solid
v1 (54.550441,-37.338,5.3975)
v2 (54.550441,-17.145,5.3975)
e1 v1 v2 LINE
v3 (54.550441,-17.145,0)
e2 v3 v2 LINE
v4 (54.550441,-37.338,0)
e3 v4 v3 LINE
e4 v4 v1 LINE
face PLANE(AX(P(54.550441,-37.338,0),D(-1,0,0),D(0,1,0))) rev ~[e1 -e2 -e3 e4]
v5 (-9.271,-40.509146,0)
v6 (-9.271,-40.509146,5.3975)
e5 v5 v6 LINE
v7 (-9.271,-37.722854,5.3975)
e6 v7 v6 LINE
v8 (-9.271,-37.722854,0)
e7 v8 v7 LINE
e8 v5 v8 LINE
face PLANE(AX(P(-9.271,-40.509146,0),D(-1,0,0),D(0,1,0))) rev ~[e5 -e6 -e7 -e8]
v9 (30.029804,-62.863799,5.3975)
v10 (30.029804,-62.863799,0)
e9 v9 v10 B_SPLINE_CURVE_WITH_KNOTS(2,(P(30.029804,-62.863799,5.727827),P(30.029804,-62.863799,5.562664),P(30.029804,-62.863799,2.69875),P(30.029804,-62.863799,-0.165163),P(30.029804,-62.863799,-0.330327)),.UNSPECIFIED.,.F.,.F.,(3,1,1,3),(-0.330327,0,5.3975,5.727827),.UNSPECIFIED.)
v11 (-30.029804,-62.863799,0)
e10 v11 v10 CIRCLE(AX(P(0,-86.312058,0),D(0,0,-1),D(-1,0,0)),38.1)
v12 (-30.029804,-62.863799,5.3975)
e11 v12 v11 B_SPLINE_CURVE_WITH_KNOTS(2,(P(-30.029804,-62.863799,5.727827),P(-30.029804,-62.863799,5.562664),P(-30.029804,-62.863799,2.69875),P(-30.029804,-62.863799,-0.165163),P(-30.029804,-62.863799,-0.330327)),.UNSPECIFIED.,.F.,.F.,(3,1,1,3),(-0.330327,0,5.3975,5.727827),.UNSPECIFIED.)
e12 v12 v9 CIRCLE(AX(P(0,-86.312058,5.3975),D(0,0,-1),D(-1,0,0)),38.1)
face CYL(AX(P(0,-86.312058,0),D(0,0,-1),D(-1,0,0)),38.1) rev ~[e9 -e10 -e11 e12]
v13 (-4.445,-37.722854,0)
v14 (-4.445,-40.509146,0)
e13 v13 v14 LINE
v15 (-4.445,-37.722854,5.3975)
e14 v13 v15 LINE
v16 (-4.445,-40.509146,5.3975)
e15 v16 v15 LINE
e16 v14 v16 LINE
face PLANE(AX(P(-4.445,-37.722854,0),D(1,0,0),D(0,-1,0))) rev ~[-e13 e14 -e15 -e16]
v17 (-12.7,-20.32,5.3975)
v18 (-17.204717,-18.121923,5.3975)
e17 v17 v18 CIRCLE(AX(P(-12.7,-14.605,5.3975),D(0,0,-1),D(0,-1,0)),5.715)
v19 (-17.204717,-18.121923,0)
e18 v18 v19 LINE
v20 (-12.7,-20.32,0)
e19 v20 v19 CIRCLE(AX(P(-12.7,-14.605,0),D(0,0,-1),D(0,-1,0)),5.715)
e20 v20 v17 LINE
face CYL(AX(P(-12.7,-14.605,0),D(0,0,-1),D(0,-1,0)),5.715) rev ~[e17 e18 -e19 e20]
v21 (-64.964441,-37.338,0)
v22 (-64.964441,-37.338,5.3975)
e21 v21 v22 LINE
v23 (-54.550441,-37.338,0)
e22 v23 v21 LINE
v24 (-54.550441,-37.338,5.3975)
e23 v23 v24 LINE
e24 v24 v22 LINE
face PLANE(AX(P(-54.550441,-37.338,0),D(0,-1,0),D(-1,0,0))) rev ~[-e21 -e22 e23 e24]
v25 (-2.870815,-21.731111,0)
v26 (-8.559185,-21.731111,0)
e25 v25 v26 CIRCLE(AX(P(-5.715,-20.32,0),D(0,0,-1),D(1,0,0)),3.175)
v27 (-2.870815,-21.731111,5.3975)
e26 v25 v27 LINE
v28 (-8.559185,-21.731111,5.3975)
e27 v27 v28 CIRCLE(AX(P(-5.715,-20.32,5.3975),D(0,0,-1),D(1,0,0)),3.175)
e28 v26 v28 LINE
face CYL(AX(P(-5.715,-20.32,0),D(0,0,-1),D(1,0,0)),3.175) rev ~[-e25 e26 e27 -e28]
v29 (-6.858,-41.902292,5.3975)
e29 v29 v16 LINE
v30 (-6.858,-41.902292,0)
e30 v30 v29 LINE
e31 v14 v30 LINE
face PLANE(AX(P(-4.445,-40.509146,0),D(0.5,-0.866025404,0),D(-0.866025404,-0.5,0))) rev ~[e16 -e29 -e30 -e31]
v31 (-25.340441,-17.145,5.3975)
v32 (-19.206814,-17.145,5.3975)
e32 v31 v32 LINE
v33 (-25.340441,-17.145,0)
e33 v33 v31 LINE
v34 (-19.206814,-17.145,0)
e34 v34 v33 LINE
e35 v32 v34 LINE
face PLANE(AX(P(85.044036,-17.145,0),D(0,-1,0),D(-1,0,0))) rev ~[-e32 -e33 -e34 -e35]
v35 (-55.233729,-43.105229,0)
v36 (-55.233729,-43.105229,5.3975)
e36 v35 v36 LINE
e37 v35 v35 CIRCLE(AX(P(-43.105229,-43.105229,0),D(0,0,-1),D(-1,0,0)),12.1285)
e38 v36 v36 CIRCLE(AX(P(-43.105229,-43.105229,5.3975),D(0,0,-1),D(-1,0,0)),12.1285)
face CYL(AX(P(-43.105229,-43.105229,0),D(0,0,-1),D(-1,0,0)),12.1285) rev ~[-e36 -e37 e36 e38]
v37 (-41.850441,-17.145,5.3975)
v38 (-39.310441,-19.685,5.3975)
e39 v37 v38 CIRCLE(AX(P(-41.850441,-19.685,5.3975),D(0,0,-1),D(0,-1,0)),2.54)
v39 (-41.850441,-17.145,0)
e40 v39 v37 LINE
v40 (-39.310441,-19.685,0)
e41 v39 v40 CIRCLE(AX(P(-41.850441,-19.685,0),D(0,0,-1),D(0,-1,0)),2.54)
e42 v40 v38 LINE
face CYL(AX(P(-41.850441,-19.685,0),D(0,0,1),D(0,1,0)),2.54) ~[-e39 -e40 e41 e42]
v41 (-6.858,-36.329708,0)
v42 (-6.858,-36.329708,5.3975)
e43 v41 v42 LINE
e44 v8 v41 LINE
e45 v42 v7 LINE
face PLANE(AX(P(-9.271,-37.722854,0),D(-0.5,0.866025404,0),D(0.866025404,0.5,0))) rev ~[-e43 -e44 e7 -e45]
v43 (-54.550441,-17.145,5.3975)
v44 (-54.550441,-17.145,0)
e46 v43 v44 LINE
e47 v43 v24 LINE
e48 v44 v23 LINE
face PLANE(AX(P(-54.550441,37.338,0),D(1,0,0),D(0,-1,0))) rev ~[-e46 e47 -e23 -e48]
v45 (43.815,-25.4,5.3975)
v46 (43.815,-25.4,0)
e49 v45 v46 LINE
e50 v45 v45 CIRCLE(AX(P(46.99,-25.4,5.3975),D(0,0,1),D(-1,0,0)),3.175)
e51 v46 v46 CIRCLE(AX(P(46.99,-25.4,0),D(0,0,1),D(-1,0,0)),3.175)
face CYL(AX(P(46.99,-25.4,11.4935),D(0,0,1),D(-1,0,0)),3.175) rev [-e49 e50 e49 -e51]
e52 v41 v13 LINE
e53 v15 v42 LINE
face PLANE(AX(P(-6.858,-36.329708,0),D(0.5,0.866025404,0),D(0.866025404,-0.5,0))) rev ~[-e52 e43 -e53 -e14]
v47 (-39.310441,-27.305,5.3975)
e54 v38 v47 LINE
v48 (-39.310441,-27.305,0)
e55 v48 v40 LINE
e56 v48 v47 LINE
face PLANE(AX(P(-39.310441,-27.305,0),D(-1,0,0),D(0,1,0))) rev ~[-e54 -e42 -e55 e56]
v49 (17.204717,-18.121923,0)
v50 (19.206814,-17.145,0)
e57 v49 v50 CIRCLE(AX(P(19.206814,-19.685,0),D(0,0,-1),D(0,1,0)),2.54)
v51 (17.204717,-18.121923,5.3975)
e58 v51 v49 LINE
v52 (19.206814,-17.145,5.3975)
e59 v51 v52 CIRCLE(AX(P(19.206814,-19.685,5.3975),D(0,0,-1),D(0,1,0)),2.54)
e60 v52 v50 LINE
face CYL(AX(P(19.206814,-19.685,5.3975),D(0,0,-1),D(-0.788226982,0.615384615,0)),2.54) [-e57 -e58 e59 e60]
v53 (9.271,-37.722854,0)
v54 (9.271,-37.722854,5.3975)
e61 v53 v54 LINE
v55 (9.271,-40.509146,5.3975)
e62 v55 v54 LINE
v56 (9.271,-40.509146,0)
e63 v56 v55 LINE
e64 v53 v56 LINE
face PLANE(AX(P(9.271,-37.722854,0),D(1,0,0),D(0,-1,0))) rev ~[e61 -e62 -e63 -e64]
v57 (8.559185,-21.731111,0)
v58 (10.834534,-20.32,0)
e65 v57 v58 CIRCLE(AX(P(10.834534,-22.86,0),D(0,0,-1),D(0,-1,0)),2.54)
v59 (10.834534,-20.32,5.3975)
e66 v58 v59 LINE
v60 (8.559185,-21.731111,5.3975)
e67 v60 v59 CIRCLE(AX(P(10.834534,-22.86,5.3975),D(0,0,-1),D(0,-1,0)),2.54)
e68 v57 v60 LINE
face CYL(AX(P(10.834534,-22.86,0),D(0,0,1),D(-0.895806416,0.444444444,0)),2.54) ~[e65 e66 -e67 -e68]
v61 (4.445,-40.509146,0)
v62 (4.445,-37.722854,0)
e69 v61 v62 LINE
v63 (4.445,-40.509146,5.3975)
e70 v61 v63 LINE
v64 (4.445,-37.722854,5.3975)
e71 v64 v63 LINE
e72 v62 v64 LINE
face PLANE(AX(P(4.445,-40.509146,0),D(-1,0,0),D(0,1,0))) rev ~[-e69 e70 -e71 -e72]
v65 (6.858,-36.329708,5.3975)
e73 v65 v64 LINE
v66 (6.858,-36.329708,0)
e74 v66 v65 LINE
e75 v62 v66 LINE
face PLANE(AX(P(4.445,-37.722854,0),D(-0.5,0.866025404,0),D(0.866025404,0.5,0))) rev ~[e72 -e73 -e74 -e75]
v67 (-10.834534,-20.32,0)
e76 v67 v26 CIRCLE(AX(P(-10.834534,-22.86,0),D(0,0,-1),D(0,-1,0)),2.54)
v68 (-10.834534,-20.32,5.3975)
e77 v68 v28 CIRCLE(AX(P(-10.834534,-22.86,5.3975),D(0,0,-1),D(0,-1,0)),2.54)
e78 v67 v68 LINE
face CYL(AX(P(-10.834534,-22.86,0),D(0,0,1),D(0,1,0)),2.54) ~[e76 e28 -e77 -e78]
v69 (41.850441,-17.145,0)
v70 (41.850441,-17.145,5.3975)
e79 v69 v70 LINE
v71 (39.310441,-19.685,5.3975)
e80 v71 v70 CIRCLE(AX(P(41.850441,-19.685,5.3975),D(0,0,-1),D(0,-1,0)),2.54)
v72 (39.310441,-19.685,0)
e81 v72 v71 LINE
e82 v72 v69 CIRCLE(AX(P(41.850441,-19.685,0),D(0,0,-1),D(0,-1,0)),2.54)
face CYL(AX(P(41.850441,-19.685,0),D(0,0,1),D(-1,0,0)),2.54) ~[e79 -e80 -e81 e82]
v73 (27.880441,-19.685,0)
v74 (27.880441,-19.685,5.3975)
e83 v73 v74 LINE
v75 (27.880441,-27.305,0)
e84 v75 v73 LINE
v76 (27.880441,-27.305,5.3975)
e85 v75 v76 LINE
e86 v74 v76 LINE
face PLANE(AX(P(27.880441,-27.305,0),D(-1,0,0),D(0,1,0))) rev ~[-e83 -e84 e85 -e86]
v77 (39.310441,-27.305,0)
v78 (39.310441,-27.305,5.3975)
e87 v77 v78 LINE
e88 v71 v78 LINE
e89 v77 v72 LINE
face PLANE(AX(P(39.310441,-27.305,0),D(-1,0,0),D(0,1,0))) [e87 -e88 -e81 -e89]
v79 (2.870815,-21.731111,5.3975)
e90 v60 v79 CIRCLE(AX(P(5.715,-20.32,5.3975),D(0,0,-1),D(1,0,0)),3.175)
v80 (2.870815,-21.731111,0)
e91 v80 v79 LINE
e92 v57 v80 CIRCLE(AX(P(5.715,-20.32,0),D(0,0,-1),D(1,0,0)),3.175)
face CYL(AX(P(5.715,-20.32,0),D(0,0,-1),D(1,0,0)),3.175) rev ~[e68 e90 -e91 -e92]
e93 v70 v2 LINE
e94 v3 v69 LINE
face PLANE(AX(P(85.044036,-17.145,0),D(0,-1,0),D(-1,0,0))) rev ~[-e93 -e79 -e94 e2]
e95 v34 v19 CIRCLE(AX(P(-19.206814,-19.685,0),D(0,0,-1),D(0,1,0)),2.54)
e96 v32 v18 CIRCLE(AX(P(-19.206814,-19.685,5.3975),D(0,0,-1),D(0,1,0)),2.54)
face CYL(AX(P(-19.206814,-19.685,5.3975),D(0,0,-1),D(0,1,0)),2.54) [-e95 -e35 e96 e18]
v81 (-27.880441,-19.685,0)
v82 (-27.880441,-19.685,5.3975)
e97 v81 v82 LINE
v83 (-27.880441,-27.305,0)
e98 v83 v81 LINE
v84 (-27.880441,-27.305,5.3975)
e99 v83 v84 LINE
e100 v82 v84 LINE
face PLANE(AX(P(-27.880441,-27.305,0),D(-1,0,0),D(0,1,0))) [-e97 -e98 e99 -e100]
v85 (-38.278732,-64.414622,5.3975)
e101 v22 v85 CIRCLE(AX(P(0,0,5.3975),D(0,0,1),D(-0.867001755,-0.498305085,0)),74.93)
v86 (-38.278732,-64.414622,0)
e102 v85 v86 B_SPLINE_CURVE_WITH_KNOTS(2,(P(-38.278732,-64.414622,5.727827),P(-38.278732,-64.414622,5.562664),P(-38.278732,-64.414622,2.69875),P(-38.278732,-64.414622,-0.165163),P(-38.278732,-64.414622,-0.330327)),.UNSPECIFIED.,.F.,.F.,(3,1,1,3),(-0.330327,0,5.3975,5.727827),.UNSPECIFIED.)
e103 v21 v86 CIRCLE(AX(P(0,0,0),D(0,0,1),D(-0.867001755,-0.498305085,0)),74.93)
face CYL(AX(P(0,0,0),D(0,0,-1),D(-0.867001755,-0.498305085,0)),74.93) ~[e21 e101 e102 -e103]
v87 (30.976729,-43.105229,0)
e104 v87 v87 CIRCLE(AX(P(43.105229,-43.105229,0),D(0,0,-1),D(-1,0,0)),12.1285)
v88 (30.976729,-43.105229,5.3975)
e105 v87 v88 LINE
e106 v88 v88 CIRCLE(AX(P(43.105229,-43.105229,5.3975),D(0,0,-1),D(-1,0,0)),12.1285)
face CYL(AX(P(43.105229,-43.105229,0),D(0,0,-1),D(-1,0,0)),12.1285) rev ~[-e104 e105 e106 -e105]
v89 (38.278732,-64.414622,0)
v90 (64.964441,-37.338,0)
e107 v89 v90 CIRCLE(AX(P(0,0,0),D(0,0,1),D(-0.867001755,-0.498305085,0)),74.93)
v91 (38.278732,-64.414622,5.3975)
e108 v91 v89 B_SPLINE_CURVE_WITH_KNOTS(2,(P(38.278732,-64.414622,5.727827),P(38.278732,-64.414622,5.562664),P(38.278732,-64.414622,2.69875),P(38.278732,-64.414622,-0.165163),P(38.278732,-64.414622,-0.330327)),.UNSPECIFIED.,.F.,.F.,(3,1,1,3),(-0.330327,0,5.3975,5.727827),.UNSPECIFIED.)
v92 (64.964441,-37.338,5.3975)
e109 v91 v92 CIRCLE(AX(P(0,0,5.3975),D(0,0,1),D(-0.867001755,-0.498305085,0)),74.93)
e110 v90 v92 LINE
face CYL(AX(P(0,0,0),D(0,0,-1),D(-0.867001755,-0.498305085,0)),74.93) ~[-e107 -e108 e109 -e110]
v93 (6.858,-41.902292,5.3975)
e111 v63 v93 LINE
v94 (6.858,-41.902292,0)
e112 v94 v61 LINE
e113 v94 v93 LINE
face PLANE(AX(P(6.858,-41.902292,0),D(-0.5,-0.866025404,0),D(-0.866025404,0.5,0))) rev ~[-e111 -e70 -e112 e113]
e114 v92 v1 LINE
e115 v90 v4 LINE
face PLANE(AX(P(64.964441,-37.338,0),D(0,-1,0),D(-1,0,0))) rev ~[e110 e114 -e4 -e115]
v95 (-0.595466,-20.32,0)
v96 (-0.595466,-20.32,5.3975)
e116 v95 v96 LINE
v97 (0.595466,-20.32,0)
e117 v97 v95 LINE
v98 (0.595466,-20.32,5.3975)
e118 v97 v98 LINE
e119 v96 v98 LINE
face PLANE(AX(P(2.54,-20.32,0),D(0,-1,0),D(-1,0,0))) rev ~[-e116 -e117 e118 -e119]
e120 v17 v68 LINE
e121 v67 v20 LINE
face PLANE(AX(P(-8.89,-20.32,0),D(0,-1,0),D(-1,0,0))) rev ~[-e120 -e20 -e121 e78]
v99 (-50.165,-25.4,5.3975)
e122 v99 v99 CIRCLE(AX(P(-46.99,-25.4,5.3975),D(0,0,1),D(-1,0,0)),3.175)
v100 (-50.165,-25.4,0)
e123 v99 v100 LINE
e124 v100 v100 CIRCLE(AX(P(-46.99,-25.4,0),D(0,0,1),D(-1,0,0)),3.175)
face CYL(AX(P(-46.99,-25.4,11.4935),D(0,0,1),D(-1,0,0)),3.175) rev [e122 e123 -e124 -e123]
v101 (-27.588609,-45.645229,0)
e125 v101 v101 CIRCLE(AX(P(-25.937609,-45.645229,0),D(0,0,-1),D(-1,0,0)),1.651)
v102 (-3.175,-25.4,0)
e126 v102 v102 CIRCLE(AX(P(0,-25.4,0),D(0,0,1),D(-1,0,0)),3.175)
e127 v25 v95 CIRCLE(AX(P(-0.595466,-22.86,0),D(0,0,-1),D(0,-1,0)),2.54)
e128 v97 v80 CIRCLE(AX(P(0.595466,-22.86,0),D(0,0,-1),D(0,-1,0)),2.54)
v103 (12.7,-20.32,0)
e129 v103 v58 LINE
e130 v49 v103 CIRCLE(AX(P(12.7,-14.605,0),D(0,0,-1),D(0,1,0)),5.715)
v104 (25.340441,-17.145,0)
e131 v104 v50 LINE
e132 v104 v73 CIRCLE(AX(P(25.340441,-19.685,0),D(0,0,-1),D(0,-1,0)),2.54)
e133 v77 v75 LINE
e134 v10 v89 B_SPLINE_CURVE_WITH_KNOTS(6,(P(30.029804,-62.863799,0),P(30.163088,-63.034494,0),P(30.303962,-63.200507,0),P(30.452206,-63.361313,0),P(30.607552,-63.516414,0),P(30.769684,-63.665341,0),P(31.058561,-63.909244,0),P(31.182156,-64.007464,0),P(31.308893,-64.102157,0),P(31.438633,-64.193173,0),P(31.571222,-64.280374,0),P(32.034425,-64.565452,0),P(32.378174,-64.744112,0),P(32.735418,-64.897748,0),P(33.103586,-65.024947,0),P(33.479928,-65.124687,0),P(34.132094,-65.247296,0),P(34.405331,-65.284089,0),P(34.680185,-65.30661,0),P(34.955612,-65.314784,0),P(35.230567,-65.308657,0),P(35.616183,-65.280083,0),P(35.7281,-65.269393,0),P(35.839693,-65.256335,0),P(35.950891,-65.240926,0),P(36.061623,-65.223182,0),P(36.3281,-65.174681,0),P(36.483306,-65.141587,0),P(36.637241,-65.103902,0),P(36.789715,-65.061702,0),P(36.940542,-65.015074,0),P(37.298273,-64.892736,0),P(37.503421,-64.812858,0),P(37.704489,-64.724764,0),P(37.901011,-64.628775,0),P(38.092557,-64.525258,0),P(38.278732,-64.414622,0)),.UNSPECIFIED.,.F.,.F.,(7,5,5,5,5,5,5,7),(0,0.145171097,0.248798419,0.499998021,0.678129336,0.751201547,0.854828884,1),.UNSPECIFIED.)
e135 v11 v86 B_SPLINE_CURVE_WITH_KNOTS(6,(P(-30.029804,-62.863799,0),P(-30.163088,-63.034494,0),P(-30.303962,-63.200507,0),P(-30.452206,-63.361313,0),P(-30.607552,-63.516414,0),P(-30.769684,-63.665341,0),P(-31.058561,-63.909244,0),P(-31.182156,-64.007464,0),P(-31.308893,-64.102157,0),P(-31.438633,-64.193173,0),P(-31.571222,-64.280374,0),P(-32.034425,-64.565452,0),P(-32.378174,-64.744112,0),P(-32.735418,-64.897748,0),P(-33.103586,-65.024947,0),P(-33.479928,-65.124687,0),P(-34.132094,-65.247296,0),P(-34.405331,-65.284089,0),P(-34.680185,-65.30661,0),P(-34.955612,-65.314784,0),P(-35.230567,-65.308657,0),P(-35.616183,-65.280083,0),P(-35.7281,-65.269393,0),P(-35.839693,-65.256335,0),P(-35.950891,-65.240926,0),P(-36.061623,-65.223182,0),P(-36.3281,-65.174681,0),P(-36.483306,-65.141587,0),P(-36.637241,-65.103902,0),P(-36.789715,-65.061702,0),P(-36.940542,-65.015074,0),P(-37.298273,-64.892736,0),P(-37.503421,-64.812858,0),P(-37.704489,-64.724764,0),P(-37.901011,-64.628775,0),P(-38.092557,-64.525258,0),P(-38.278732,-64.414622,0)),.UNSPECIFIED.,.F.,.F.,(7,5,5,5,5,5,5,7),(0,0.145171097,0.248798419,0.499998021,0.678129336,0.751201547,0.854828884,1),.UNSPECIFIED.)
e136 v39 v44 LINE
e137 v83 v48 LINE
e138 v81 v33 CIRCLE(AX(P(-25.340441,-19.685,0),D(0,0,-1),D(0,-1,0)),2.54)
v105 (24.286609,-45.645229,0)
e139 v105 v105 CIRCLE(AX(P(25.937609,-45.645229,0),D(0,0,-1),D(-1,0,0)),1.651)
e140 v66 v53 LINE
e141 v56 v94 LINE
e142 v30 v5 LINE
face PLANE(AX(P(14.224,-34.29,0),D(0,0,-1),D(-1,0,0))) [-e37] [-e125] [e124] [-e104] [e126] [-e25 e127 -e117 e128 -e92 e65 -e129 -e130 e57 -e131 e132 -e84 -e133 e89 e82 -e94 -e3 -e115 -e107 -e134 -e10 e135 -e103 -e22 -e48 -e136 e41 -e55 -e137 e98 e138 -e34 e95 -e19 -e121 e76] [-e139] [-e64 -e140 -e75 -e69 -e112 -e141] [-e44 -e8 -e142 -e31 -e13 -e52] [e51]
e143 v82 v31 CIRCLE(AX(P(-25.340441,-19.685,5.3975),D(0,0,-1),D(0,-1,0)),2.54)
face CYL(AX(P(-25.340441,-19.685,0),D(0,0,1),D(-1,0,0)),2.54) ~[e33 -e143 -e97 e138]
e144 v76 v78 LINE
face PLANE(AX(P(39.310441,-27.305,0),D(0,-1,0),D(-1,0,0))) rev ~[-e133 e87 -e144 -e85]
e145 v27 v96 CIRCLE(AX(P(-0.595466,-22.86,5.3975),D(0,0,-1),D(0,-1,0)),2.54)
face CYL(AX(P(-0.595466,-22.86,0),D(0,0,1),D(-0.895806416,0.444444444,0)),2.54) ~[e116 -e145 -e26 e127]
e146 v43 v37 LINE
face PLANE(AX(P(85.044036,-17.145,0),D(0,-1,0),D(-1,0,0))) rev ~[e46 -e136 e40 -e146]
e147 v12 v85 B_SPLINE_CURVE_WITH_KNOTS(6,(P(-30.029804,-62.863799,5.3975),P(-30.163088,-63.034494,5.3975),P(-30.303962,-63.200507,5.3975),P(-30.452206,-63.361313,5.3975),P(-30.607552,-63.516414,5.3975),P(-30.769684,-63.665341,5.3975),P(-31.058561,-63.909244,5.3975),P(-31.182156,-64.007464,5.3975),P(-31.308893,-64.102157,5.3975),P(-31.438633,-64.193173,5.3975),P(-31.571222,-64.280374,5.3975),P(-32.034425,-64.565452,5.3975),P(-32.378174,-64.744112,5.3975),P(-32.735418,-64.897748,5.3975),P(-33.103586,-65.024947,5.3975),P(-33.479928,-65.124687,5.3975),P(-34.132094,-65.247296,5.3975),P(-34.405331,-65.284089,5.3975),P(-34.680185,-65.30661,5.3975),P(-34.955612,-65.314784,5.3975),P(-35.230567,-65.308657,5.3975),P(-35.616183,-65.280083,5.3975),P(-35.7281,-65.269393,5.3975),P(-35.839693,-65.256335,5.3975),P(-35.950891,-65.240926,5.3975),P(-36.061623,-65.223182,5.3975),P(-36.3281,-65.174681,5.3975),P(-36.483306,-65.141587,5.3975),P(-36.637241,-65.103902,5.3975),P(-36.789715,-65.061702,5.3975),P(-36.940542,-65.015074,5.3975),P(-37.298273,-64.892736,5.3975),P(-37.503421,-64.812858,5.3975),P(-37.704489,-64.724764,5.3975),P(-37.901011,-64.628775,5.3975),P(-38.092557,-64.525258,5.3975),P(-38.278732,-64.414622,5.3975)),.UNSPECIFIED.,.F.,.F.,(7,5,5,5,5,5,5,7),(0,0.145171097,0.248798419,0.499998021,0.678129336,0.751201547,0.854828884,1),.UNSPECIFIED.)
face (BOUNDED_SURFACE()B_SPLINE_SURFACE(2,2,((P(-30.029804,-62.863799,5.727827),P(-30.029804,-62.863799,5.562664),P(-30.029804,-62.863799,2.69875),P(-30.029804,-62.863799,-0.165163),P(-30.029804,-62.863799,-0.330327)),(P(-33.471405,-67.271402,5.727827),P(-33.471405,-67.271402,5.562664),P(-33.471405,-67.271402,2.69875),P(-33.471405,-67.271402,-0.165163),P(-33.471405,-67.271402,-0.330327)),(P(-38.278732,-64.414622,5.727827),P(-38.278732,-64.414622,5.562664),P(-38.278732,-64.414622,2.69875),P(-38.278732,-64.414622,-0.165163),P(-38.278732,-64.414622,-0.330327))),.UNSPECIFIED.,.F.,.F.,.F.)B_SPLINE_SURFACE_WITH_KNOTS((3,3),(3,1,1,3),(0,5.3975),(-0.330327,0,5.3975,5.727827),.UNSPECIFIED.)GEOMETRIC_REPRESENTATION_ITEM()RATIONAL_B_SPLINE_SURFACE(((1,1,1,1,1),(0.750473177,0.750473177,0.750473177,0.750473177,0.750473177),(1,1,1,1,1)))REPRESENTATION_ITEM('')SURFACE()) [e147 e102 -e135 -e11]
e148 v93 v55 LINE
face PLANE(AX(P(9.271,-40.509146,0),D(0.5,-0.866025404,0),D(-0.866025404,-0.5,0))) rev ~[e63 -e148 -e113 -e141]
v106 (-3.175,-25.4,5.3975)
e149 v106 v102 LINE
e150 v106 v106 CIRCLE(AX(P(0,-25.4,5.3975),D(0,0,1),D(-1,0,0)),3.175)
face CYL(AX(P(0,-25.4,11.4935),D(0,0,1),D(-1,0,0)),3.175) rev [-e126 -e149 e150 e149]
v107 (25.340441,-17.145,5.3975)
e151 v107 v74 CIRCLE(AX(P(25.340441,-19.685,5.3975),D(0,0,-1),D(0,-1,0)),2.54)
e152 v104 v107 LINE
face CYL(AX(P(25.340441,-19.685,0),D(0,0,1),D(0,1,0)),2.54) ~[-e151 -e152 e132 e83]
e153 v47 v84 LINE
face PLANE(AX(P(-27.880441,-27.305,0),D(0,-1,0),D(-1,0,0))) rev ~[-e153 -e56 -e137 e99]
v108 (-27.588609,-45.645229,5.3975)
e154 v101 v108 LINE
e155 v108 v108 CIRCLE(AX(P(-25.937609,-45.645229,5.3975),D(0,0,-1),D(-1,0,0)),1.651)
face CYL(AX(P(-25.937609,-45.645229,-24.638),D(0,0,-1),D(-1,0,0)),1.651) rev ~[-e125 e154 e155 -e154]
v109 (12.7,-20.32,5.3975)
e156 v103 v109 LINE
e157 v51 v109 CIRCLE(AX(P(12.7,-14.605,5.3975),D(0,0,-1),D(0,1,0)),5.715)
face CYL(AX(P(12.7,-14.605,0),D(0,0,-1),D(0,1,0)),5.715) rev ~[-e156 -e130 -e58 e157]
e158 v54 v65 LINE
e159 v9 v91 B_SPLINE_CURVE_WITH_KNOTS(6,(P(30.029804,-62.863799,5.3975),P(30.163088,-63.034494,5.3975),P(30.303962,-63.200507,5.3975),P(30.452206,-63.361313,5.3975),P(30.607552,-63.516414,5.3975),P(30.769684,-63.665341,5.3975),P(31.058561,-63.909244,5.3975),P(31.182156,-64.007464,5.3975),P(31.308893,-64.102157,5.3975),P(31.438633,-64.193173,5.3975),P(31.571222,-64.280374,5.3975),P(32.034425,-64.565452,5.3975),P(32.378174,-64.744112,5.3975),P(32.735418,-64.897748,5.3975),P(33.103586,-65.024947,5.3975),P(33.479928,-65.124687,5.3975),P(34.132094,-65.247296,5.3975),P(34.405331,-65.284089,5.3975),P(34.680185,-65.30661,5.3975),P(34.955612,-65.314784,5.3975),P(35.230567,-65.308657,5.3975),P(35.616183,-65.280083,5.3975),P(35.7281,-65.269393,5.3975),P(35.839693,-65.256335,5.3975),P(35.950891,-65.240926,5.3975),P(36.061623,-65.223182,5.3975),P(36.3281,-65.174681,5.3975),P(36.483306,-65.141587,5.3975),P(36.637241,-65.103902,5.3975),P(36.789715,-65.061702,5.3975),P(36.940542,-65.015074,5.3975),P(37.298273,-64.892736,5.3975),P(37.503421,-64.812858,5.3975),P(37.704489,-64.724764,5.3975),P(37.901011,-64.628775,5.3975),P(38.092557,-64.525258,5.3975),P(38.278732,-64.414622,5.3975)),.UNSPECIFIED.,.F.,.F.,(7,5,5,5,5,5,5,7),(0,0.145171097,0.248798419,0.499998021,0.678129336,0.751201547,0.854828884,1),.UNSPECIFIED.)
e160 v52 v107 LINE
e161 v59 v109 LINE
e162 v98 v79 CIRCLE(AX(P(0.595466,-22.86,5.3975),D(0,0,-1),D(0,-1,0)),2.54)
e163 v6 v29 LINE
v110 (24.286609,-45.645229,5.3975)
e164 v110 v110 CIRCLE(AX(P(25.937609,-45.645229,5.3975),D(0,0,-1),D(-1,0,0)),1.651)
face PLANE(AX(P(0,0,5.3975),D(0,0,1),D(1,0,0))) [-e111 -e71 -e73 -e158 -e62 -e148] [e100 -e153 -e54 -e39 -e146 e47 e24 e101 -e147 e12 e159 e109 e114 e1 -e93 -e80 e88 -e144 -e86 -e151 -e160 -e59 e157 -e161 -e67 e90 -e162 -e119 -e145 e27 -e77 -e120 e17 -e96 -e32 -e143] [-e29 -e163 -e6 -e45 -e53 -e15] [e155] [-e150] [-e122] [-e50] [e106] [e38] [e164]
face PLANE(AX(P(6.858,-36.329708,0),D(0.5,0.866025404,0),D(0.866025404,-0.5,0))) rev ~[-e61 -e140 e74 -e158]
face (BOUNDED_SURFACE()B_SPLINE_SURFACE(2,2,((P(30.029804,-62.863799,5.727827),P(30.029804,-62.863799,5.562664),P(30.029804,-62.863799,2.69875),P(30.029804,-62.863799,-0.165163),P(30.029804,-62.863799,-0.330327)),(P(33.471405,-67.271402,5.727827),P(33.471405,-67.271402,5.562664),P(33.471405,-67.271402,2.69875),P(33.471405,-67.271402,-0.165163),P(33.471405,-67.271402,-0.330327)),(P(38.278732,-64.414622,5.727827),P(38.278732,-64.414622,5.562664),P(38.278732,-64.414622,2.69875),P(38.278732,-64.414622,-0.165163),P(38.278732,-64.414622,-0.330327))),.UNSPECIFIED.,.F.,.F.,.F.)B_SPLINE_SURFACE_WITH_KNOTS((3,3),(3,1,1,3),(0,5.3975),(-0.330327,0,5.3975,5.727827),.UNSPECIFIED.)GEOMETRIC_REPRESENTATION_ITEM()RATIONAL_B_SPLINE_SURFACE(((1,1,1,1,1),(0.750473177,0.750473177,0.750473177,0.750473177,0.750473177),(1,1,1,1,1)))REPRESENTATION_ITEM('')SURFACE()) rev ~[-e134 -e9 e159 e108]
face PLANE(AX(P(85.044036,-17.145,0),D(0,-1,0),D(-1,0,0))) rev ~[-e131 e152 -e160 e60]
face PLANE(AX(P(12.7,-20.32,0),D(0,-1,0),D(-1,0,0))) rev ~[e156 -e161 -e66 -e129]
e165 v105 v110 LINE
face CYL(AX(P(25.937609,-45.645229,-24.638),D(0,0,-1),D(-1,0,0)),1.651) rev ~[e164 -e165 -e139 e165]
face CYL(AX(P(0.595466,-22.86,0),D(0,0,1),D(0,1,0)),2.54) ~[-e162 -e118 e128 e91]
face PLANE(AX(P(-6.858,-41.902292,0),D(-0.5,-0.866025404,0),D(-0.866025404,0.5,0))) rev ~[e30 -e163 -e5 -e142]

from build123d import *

# Parameters (mm, degrees)
SKETCH1_R                 = 1.651
BOSS_EXTRUDE2_DEPTH       = 5.3975
SKETCH2_R                 = 1.143
CUT_EXTRUDE1_DEPTH        = 6.3975
SKETCH3_R                 = 12.1285
CUT_EXTRUDE2_DEPTH        = 6.3975
SKETCH4_W                 = 28.562713242
SKETCH4_H                 = 11.677503754
BOSS_EXTRUDE3_DEPTH       = 5.3975
SKETCH5_W                 = 216.7214489
SKETCH5_H                 = 130.569220634
CUT_EXTRUDE4_DEPTH        = 6.3975
SKETCH6_R                 = 38.1
CUT_EXTRUDE5_DEPTH        = 60.96
FILLET1_R                 = 6.35
FILLET2_R                 = 6.35
SKETCH102_W               = 11.43
SKETCH102_H               = 10.16
CUT_EXTRUDE101_DEPTH      = 6.3975001
SKETCH158_R               = 1.651
CUT_EXTRUDE157_DEPTH      = 97.79
SKETCH212_R               = 3.175
CUT_EXTRUDE211_DEPTH      = 103.378
CUT_EXTRUDE211_DEPTH_BACK = 48.768
CUT_EXTRUDE104_DEPTH      = 10
FILLET3_R                 = 2.54
SKETCH225_R               = 12.1285
BOSS_EXTRUDE4_DEPTH       = 5.3975
CUT_EXTRUDE224_DEPTH      = 6.3975001


with BuildPart() as part:
    # Sketch1 → Boss-Extrude2 (new body)
    with BuildSketch(Plane.XY):
        with BuildLine():
            Line((-64.964441474, 37.338), (-54.550441474, 37.338))
            Line((-54.550441474, 37.338), (-54.550441474, -37.338))
            Line((-54.550441474, -37.338), (-64.964441474, -37.338))
            ThreePointArc((-64.964441474, -37.338), (0, -74.93), (64.964441474, -37.338))
            Line((64.964441474, -37.338), (54.550441474, -37.338))
            Line((54.550441474, -37.338), (54.550441474, 37.338))
            Line((54.550441474, 37.338), (64.964441474, 37.338))
            ThreePointArc((64.964441474, 37.338), (0, 74.93), (-64.964441474, 37.338))
        make_face()
        with Locations((-46.482, 11.049)):
            Circle(SKETCH1_R, mode=Mode.SUBTRACT)
        with Locations((-21.083270032, 10.795)):
            Circle(SKETCH1_R, mode=Mode.SUBTRACT)
        with Locations((-21.083270032, -10.795)):
            Circle(SKETCH1_R, mode=Mode.SUBTRACT)
        with Locations((-46.482, -11.049)):
            Circle(SKETCH1_R, mode=Mode.SUBTRACT)
        with Locations((46.482, -11.049)):
            Circle(SKETCH1_R, mode=Mode.SUBTRACT)
        with Locations((21.083270032, -10.795)):
            Circle(SKETCH1_R, mode=Mode.SUBTRACT)
        with Locations((21.083270032, 10.795)):
            Circle(SKETCH1_R, mode=Mode.SUBTRACT)
        with Locations((46.482, 11.049)):
            Circle(SKETCH1_R, mode=Mode.SUBTRACT)
    extrude(amount=BOSS_EXTRUDE2_DEPTH)

    # Sketch2 → Cut-Extrude1 (cut, through all)
    with BuildSketch(Plane.XY.offset(5.3975)):
        with Locations((-6.731, 62.23)):
            Circle(SKETCH2_R)
        with Locations((6.731, 62.23)):
            Circle(SKETCH2_R)
    extrude(amount=-CUT_EXTRUDE1_DEPTH, mode=Mode.SUBTRACT)

    # Sketch3 → Cut-Extrude2 (cut, through all)
    with BuildSketch(Plane(origin=(0, 0, 0), x_dir=(-1, 0, 0), z_dir=(0, 0, -1))):
        with Locations((-43.105229381, -43.105229381)):
            Circle(SKETCH3_R)
        with Locations((14.224, -34.29)):
            Circle(SKETCH3_R)
        with Locations((14.224, 34.29)):
            Circle(SKETCH3_R)
        with Locations((-43.105229381, 43.105229381)):
            Circle(SKETCH3_R)
        with Locations((43.105229381, 43.105229381)):
            Circle(SKETCH3_R)
        with Locations((-14.224, 34.29)):
            Circle(SKETCH3_R)
        with Locations((-14.224, -34.29)):
            Circle(SKETCH3_R)
        with Locations((43.105229381, -43.105229381)):
            Circle(SKETCH3_R)
    extrude(amount=-CUT_EXTRUDE2_DEPTH, mode=Mode.SUBTRACT)

    # Sketch4 → Boss-Extrude3 (add)
    with BuildSketch(Plane(origin=(0, 0, 0), x_dir=(-1, 0, 0), z_dir=(0, 0, -1))):
        with Locations((-1.488809975, 62.152540216)):
            Rectangle(SKETCH4_W, SKETCH4_H)
    extrude(amount=-BOSS_EXTRUDE3_DEPTH)

    # Sketch5 → Cut-Extrude4 (cut, through all)
    with BuildSketch(Plane(origin=(0, 0, 0), x_dir=(-1, 0, 0), z_dir=(0, 0, -1))):
        with Locations((23.316688373, 48.139610317)):
            Rectangle(SKETCH5_W, SKETCH5_H)
    extrude(amount=-CUT_EXTRUDE4_DEPTH, mode=Mode.SUBTRACT)

    # Sketch6 → Cut-Extrude5 (cut)
    with BuildSketch(Plane(origin=(0, 0, 0), x_dir=(-1, 0, 0), z_dir=(0, 0, -1))):
        with Locations((0, -86.312058398)):
            Circle(SKETCH6_R)
    extrude(amount=-CUT_EXTRUDE5_DEPTH, mode=Mode.SUBTRACT)

    # Fillet1
    fillet1_edges = [part.edges().sort_by_distance(p)[0] for p in [
        (-33.000960548, -67.271401821, 2.69875),
    ]]
    fillet(fillet1_edges, radius=FILLET1_R)

    # Fillet2
    fillet2_edges = [part.edges().sort_by_distance(p)[0] for p in [
        (33.000960548, -67.271401821, 2.69875),
    ]]
    fillet(fillet2_edges, radius=FILLET2_R)

    # Sketch102 → Cut-Extrude101 (cut, through all)
    with BuildSketch(Plane(origin=(0, 0, 0), x_dir=(-1, 0, 0), z_dir=(0, 0, -1))):
        with Locations((-33.595441474, -22.225)):
            Rectangle(SKETCH102_W, SKETCH102_H)
        with Locations((33.595441474, -22.225)):
            Rectangle(SKETCH102_W, SKETCH102_H)
    extrude(amount=-CUT_EXTRUDE101_DEPTH, mode=Mode.SUBTRACT)

    # Sketch158 → Cut-Extrude157 (cut)
    with BuildSketch(Plane(origin=(30.092005081, 4.08352975, -24.638), x_dir=(-1, 0, 0), z_dir=(0, 0, -1))):
        with Locations((4.154396091, -49.728759131)):
            Circle(SKETCH158_R)
        with Locations((56.02961407, -49.728759131)):
            Circle(SKETCH158_R)
    extrude(amount=-CUT_EXTRUDE157_DEPTH, mode=Mode.SUBTRACT)

    # Sketch212 → Cut-Extrude211 (cut, two sides)
    with BuildSketch(Plane(origin=(30.092005081, 4.08352975, 11.4935), x_dir=(-1, 0, 0), z_dir=(0, 0, -1))) as cut_extrude211_sk:
        with Locations((77.082005081, -29.48352975)):
            Circle(SKETCH212_R)
        with Locations((30.092005081, -29.48352975)):
            Circle(SKETCH212_R)
        with Locations((-16.897994919, -29.48352975)):
            Circle(SKETCH212_R)
    extrude(amount=CUT_EXTRUDE211_DEPTH, mode=Mode.SUBTRACT)
    extrude(cut_extrude211_sk.sketch, amount=-CUT_EXTRUDE211_DEPTH_BACK, mode=Mode.SUBTRACT)

    # Sketch105 → Cut-Extrude104 (cut)
    with BuildSketch(Plane(origin=(0, 0, 0), x_dir=(-1, 0, 0), z_dir=(0, 0, -1))):
        with BuildLine():
            Line((-12.7, -20.32), (-8.89, -20.32))
            ThreePointArc((-8.89, -20.32), (-5.715, -23.495), (-2.54, -20.32))
            Line((-2.54, -20.32), (2.54, -20.32))
            ThreePointArc((2.54, -20.32), (5.715, -23.495), (8.89, -20.32))
            Line((8.89, -20.32), (12.7, -20.32))
            ThreePointArc((12.7, -20.32), (18.415, -14.605), (12.7, -8.89))
            Line((12.7, -8.89), (-12.7, -8.89))
            ThreePointArc((-12.7, -8.89), (-18.415, -14.605), (-12.7, -20.32))
        make_face()
    extrude(amount=-CUT_EXTRUDE104_DEPTH, mode=Mode.SUBTRACT)

    # Fillet3
    fillet3_edges = [part.edges().sort_by_distance(p)[0] for p in [
        (39.310441474, -17.145, 2.69875),
        (27.880441474, -17.145, 2.69875),
        (-27.880441474, -17.145, 2.69875),
        (-39.310441474, -17.145, 2.69875),
        (17.81953367, -17.145, 2.69875),
        (-17.81953367, -17.145, 2.69875),
        (-8.89, -20.32, 2.69875),
        (-2.54, -20.32, 2.69875),
        (2.54, -20.32, 2.69875),
        (8.89, -20.32, 2.69875),
    ]]
    fillet(fillet3_edges, radius=FILLET3_R)

    # Sketch225 → Boss-Extrude4 (add)
    with BuildSketch(Plane(origin=(0, 0, 0), x_dir=(-1, 0, 0), z_dir=(0, 0, -1))):
        with Locations((-14.224, -34.29)):
            Circle(SKETCH225_R)
        with Locations((14.224, -34.29)):
            Circle(SKETCH225_R)
    extrude(amount=-BOSS_EXTRUDE4_DEPTH)

    # Sketch226 → Cut-Extrude224 (cut, through all)
    with BuildSketch(Plane(origin=(0, 0, 0), x_dir=(-1, 0, 0), z_dir=(0, 0, -1))):
        Polygon((4.445, -37.7228538), (4.445, -40.5091462), (6.858, -41.902292399), (9.271, -40.5091462), (9.271, -37.7228538), (6.858, -36.329707601), align=None)
        Polygon((-4.445, -37.7228538), (-6.858, -36.329707601), (-9.271, -37.7228538), (-9.271, -40.5091462), (-6.858, -41.902292399), (-4.445, -40.5091462), align=None)
    extrude(amount=-CUT_EXTRUDE224_DEPTH, mode=Mode.SUBTRACT)


solid = part.part
